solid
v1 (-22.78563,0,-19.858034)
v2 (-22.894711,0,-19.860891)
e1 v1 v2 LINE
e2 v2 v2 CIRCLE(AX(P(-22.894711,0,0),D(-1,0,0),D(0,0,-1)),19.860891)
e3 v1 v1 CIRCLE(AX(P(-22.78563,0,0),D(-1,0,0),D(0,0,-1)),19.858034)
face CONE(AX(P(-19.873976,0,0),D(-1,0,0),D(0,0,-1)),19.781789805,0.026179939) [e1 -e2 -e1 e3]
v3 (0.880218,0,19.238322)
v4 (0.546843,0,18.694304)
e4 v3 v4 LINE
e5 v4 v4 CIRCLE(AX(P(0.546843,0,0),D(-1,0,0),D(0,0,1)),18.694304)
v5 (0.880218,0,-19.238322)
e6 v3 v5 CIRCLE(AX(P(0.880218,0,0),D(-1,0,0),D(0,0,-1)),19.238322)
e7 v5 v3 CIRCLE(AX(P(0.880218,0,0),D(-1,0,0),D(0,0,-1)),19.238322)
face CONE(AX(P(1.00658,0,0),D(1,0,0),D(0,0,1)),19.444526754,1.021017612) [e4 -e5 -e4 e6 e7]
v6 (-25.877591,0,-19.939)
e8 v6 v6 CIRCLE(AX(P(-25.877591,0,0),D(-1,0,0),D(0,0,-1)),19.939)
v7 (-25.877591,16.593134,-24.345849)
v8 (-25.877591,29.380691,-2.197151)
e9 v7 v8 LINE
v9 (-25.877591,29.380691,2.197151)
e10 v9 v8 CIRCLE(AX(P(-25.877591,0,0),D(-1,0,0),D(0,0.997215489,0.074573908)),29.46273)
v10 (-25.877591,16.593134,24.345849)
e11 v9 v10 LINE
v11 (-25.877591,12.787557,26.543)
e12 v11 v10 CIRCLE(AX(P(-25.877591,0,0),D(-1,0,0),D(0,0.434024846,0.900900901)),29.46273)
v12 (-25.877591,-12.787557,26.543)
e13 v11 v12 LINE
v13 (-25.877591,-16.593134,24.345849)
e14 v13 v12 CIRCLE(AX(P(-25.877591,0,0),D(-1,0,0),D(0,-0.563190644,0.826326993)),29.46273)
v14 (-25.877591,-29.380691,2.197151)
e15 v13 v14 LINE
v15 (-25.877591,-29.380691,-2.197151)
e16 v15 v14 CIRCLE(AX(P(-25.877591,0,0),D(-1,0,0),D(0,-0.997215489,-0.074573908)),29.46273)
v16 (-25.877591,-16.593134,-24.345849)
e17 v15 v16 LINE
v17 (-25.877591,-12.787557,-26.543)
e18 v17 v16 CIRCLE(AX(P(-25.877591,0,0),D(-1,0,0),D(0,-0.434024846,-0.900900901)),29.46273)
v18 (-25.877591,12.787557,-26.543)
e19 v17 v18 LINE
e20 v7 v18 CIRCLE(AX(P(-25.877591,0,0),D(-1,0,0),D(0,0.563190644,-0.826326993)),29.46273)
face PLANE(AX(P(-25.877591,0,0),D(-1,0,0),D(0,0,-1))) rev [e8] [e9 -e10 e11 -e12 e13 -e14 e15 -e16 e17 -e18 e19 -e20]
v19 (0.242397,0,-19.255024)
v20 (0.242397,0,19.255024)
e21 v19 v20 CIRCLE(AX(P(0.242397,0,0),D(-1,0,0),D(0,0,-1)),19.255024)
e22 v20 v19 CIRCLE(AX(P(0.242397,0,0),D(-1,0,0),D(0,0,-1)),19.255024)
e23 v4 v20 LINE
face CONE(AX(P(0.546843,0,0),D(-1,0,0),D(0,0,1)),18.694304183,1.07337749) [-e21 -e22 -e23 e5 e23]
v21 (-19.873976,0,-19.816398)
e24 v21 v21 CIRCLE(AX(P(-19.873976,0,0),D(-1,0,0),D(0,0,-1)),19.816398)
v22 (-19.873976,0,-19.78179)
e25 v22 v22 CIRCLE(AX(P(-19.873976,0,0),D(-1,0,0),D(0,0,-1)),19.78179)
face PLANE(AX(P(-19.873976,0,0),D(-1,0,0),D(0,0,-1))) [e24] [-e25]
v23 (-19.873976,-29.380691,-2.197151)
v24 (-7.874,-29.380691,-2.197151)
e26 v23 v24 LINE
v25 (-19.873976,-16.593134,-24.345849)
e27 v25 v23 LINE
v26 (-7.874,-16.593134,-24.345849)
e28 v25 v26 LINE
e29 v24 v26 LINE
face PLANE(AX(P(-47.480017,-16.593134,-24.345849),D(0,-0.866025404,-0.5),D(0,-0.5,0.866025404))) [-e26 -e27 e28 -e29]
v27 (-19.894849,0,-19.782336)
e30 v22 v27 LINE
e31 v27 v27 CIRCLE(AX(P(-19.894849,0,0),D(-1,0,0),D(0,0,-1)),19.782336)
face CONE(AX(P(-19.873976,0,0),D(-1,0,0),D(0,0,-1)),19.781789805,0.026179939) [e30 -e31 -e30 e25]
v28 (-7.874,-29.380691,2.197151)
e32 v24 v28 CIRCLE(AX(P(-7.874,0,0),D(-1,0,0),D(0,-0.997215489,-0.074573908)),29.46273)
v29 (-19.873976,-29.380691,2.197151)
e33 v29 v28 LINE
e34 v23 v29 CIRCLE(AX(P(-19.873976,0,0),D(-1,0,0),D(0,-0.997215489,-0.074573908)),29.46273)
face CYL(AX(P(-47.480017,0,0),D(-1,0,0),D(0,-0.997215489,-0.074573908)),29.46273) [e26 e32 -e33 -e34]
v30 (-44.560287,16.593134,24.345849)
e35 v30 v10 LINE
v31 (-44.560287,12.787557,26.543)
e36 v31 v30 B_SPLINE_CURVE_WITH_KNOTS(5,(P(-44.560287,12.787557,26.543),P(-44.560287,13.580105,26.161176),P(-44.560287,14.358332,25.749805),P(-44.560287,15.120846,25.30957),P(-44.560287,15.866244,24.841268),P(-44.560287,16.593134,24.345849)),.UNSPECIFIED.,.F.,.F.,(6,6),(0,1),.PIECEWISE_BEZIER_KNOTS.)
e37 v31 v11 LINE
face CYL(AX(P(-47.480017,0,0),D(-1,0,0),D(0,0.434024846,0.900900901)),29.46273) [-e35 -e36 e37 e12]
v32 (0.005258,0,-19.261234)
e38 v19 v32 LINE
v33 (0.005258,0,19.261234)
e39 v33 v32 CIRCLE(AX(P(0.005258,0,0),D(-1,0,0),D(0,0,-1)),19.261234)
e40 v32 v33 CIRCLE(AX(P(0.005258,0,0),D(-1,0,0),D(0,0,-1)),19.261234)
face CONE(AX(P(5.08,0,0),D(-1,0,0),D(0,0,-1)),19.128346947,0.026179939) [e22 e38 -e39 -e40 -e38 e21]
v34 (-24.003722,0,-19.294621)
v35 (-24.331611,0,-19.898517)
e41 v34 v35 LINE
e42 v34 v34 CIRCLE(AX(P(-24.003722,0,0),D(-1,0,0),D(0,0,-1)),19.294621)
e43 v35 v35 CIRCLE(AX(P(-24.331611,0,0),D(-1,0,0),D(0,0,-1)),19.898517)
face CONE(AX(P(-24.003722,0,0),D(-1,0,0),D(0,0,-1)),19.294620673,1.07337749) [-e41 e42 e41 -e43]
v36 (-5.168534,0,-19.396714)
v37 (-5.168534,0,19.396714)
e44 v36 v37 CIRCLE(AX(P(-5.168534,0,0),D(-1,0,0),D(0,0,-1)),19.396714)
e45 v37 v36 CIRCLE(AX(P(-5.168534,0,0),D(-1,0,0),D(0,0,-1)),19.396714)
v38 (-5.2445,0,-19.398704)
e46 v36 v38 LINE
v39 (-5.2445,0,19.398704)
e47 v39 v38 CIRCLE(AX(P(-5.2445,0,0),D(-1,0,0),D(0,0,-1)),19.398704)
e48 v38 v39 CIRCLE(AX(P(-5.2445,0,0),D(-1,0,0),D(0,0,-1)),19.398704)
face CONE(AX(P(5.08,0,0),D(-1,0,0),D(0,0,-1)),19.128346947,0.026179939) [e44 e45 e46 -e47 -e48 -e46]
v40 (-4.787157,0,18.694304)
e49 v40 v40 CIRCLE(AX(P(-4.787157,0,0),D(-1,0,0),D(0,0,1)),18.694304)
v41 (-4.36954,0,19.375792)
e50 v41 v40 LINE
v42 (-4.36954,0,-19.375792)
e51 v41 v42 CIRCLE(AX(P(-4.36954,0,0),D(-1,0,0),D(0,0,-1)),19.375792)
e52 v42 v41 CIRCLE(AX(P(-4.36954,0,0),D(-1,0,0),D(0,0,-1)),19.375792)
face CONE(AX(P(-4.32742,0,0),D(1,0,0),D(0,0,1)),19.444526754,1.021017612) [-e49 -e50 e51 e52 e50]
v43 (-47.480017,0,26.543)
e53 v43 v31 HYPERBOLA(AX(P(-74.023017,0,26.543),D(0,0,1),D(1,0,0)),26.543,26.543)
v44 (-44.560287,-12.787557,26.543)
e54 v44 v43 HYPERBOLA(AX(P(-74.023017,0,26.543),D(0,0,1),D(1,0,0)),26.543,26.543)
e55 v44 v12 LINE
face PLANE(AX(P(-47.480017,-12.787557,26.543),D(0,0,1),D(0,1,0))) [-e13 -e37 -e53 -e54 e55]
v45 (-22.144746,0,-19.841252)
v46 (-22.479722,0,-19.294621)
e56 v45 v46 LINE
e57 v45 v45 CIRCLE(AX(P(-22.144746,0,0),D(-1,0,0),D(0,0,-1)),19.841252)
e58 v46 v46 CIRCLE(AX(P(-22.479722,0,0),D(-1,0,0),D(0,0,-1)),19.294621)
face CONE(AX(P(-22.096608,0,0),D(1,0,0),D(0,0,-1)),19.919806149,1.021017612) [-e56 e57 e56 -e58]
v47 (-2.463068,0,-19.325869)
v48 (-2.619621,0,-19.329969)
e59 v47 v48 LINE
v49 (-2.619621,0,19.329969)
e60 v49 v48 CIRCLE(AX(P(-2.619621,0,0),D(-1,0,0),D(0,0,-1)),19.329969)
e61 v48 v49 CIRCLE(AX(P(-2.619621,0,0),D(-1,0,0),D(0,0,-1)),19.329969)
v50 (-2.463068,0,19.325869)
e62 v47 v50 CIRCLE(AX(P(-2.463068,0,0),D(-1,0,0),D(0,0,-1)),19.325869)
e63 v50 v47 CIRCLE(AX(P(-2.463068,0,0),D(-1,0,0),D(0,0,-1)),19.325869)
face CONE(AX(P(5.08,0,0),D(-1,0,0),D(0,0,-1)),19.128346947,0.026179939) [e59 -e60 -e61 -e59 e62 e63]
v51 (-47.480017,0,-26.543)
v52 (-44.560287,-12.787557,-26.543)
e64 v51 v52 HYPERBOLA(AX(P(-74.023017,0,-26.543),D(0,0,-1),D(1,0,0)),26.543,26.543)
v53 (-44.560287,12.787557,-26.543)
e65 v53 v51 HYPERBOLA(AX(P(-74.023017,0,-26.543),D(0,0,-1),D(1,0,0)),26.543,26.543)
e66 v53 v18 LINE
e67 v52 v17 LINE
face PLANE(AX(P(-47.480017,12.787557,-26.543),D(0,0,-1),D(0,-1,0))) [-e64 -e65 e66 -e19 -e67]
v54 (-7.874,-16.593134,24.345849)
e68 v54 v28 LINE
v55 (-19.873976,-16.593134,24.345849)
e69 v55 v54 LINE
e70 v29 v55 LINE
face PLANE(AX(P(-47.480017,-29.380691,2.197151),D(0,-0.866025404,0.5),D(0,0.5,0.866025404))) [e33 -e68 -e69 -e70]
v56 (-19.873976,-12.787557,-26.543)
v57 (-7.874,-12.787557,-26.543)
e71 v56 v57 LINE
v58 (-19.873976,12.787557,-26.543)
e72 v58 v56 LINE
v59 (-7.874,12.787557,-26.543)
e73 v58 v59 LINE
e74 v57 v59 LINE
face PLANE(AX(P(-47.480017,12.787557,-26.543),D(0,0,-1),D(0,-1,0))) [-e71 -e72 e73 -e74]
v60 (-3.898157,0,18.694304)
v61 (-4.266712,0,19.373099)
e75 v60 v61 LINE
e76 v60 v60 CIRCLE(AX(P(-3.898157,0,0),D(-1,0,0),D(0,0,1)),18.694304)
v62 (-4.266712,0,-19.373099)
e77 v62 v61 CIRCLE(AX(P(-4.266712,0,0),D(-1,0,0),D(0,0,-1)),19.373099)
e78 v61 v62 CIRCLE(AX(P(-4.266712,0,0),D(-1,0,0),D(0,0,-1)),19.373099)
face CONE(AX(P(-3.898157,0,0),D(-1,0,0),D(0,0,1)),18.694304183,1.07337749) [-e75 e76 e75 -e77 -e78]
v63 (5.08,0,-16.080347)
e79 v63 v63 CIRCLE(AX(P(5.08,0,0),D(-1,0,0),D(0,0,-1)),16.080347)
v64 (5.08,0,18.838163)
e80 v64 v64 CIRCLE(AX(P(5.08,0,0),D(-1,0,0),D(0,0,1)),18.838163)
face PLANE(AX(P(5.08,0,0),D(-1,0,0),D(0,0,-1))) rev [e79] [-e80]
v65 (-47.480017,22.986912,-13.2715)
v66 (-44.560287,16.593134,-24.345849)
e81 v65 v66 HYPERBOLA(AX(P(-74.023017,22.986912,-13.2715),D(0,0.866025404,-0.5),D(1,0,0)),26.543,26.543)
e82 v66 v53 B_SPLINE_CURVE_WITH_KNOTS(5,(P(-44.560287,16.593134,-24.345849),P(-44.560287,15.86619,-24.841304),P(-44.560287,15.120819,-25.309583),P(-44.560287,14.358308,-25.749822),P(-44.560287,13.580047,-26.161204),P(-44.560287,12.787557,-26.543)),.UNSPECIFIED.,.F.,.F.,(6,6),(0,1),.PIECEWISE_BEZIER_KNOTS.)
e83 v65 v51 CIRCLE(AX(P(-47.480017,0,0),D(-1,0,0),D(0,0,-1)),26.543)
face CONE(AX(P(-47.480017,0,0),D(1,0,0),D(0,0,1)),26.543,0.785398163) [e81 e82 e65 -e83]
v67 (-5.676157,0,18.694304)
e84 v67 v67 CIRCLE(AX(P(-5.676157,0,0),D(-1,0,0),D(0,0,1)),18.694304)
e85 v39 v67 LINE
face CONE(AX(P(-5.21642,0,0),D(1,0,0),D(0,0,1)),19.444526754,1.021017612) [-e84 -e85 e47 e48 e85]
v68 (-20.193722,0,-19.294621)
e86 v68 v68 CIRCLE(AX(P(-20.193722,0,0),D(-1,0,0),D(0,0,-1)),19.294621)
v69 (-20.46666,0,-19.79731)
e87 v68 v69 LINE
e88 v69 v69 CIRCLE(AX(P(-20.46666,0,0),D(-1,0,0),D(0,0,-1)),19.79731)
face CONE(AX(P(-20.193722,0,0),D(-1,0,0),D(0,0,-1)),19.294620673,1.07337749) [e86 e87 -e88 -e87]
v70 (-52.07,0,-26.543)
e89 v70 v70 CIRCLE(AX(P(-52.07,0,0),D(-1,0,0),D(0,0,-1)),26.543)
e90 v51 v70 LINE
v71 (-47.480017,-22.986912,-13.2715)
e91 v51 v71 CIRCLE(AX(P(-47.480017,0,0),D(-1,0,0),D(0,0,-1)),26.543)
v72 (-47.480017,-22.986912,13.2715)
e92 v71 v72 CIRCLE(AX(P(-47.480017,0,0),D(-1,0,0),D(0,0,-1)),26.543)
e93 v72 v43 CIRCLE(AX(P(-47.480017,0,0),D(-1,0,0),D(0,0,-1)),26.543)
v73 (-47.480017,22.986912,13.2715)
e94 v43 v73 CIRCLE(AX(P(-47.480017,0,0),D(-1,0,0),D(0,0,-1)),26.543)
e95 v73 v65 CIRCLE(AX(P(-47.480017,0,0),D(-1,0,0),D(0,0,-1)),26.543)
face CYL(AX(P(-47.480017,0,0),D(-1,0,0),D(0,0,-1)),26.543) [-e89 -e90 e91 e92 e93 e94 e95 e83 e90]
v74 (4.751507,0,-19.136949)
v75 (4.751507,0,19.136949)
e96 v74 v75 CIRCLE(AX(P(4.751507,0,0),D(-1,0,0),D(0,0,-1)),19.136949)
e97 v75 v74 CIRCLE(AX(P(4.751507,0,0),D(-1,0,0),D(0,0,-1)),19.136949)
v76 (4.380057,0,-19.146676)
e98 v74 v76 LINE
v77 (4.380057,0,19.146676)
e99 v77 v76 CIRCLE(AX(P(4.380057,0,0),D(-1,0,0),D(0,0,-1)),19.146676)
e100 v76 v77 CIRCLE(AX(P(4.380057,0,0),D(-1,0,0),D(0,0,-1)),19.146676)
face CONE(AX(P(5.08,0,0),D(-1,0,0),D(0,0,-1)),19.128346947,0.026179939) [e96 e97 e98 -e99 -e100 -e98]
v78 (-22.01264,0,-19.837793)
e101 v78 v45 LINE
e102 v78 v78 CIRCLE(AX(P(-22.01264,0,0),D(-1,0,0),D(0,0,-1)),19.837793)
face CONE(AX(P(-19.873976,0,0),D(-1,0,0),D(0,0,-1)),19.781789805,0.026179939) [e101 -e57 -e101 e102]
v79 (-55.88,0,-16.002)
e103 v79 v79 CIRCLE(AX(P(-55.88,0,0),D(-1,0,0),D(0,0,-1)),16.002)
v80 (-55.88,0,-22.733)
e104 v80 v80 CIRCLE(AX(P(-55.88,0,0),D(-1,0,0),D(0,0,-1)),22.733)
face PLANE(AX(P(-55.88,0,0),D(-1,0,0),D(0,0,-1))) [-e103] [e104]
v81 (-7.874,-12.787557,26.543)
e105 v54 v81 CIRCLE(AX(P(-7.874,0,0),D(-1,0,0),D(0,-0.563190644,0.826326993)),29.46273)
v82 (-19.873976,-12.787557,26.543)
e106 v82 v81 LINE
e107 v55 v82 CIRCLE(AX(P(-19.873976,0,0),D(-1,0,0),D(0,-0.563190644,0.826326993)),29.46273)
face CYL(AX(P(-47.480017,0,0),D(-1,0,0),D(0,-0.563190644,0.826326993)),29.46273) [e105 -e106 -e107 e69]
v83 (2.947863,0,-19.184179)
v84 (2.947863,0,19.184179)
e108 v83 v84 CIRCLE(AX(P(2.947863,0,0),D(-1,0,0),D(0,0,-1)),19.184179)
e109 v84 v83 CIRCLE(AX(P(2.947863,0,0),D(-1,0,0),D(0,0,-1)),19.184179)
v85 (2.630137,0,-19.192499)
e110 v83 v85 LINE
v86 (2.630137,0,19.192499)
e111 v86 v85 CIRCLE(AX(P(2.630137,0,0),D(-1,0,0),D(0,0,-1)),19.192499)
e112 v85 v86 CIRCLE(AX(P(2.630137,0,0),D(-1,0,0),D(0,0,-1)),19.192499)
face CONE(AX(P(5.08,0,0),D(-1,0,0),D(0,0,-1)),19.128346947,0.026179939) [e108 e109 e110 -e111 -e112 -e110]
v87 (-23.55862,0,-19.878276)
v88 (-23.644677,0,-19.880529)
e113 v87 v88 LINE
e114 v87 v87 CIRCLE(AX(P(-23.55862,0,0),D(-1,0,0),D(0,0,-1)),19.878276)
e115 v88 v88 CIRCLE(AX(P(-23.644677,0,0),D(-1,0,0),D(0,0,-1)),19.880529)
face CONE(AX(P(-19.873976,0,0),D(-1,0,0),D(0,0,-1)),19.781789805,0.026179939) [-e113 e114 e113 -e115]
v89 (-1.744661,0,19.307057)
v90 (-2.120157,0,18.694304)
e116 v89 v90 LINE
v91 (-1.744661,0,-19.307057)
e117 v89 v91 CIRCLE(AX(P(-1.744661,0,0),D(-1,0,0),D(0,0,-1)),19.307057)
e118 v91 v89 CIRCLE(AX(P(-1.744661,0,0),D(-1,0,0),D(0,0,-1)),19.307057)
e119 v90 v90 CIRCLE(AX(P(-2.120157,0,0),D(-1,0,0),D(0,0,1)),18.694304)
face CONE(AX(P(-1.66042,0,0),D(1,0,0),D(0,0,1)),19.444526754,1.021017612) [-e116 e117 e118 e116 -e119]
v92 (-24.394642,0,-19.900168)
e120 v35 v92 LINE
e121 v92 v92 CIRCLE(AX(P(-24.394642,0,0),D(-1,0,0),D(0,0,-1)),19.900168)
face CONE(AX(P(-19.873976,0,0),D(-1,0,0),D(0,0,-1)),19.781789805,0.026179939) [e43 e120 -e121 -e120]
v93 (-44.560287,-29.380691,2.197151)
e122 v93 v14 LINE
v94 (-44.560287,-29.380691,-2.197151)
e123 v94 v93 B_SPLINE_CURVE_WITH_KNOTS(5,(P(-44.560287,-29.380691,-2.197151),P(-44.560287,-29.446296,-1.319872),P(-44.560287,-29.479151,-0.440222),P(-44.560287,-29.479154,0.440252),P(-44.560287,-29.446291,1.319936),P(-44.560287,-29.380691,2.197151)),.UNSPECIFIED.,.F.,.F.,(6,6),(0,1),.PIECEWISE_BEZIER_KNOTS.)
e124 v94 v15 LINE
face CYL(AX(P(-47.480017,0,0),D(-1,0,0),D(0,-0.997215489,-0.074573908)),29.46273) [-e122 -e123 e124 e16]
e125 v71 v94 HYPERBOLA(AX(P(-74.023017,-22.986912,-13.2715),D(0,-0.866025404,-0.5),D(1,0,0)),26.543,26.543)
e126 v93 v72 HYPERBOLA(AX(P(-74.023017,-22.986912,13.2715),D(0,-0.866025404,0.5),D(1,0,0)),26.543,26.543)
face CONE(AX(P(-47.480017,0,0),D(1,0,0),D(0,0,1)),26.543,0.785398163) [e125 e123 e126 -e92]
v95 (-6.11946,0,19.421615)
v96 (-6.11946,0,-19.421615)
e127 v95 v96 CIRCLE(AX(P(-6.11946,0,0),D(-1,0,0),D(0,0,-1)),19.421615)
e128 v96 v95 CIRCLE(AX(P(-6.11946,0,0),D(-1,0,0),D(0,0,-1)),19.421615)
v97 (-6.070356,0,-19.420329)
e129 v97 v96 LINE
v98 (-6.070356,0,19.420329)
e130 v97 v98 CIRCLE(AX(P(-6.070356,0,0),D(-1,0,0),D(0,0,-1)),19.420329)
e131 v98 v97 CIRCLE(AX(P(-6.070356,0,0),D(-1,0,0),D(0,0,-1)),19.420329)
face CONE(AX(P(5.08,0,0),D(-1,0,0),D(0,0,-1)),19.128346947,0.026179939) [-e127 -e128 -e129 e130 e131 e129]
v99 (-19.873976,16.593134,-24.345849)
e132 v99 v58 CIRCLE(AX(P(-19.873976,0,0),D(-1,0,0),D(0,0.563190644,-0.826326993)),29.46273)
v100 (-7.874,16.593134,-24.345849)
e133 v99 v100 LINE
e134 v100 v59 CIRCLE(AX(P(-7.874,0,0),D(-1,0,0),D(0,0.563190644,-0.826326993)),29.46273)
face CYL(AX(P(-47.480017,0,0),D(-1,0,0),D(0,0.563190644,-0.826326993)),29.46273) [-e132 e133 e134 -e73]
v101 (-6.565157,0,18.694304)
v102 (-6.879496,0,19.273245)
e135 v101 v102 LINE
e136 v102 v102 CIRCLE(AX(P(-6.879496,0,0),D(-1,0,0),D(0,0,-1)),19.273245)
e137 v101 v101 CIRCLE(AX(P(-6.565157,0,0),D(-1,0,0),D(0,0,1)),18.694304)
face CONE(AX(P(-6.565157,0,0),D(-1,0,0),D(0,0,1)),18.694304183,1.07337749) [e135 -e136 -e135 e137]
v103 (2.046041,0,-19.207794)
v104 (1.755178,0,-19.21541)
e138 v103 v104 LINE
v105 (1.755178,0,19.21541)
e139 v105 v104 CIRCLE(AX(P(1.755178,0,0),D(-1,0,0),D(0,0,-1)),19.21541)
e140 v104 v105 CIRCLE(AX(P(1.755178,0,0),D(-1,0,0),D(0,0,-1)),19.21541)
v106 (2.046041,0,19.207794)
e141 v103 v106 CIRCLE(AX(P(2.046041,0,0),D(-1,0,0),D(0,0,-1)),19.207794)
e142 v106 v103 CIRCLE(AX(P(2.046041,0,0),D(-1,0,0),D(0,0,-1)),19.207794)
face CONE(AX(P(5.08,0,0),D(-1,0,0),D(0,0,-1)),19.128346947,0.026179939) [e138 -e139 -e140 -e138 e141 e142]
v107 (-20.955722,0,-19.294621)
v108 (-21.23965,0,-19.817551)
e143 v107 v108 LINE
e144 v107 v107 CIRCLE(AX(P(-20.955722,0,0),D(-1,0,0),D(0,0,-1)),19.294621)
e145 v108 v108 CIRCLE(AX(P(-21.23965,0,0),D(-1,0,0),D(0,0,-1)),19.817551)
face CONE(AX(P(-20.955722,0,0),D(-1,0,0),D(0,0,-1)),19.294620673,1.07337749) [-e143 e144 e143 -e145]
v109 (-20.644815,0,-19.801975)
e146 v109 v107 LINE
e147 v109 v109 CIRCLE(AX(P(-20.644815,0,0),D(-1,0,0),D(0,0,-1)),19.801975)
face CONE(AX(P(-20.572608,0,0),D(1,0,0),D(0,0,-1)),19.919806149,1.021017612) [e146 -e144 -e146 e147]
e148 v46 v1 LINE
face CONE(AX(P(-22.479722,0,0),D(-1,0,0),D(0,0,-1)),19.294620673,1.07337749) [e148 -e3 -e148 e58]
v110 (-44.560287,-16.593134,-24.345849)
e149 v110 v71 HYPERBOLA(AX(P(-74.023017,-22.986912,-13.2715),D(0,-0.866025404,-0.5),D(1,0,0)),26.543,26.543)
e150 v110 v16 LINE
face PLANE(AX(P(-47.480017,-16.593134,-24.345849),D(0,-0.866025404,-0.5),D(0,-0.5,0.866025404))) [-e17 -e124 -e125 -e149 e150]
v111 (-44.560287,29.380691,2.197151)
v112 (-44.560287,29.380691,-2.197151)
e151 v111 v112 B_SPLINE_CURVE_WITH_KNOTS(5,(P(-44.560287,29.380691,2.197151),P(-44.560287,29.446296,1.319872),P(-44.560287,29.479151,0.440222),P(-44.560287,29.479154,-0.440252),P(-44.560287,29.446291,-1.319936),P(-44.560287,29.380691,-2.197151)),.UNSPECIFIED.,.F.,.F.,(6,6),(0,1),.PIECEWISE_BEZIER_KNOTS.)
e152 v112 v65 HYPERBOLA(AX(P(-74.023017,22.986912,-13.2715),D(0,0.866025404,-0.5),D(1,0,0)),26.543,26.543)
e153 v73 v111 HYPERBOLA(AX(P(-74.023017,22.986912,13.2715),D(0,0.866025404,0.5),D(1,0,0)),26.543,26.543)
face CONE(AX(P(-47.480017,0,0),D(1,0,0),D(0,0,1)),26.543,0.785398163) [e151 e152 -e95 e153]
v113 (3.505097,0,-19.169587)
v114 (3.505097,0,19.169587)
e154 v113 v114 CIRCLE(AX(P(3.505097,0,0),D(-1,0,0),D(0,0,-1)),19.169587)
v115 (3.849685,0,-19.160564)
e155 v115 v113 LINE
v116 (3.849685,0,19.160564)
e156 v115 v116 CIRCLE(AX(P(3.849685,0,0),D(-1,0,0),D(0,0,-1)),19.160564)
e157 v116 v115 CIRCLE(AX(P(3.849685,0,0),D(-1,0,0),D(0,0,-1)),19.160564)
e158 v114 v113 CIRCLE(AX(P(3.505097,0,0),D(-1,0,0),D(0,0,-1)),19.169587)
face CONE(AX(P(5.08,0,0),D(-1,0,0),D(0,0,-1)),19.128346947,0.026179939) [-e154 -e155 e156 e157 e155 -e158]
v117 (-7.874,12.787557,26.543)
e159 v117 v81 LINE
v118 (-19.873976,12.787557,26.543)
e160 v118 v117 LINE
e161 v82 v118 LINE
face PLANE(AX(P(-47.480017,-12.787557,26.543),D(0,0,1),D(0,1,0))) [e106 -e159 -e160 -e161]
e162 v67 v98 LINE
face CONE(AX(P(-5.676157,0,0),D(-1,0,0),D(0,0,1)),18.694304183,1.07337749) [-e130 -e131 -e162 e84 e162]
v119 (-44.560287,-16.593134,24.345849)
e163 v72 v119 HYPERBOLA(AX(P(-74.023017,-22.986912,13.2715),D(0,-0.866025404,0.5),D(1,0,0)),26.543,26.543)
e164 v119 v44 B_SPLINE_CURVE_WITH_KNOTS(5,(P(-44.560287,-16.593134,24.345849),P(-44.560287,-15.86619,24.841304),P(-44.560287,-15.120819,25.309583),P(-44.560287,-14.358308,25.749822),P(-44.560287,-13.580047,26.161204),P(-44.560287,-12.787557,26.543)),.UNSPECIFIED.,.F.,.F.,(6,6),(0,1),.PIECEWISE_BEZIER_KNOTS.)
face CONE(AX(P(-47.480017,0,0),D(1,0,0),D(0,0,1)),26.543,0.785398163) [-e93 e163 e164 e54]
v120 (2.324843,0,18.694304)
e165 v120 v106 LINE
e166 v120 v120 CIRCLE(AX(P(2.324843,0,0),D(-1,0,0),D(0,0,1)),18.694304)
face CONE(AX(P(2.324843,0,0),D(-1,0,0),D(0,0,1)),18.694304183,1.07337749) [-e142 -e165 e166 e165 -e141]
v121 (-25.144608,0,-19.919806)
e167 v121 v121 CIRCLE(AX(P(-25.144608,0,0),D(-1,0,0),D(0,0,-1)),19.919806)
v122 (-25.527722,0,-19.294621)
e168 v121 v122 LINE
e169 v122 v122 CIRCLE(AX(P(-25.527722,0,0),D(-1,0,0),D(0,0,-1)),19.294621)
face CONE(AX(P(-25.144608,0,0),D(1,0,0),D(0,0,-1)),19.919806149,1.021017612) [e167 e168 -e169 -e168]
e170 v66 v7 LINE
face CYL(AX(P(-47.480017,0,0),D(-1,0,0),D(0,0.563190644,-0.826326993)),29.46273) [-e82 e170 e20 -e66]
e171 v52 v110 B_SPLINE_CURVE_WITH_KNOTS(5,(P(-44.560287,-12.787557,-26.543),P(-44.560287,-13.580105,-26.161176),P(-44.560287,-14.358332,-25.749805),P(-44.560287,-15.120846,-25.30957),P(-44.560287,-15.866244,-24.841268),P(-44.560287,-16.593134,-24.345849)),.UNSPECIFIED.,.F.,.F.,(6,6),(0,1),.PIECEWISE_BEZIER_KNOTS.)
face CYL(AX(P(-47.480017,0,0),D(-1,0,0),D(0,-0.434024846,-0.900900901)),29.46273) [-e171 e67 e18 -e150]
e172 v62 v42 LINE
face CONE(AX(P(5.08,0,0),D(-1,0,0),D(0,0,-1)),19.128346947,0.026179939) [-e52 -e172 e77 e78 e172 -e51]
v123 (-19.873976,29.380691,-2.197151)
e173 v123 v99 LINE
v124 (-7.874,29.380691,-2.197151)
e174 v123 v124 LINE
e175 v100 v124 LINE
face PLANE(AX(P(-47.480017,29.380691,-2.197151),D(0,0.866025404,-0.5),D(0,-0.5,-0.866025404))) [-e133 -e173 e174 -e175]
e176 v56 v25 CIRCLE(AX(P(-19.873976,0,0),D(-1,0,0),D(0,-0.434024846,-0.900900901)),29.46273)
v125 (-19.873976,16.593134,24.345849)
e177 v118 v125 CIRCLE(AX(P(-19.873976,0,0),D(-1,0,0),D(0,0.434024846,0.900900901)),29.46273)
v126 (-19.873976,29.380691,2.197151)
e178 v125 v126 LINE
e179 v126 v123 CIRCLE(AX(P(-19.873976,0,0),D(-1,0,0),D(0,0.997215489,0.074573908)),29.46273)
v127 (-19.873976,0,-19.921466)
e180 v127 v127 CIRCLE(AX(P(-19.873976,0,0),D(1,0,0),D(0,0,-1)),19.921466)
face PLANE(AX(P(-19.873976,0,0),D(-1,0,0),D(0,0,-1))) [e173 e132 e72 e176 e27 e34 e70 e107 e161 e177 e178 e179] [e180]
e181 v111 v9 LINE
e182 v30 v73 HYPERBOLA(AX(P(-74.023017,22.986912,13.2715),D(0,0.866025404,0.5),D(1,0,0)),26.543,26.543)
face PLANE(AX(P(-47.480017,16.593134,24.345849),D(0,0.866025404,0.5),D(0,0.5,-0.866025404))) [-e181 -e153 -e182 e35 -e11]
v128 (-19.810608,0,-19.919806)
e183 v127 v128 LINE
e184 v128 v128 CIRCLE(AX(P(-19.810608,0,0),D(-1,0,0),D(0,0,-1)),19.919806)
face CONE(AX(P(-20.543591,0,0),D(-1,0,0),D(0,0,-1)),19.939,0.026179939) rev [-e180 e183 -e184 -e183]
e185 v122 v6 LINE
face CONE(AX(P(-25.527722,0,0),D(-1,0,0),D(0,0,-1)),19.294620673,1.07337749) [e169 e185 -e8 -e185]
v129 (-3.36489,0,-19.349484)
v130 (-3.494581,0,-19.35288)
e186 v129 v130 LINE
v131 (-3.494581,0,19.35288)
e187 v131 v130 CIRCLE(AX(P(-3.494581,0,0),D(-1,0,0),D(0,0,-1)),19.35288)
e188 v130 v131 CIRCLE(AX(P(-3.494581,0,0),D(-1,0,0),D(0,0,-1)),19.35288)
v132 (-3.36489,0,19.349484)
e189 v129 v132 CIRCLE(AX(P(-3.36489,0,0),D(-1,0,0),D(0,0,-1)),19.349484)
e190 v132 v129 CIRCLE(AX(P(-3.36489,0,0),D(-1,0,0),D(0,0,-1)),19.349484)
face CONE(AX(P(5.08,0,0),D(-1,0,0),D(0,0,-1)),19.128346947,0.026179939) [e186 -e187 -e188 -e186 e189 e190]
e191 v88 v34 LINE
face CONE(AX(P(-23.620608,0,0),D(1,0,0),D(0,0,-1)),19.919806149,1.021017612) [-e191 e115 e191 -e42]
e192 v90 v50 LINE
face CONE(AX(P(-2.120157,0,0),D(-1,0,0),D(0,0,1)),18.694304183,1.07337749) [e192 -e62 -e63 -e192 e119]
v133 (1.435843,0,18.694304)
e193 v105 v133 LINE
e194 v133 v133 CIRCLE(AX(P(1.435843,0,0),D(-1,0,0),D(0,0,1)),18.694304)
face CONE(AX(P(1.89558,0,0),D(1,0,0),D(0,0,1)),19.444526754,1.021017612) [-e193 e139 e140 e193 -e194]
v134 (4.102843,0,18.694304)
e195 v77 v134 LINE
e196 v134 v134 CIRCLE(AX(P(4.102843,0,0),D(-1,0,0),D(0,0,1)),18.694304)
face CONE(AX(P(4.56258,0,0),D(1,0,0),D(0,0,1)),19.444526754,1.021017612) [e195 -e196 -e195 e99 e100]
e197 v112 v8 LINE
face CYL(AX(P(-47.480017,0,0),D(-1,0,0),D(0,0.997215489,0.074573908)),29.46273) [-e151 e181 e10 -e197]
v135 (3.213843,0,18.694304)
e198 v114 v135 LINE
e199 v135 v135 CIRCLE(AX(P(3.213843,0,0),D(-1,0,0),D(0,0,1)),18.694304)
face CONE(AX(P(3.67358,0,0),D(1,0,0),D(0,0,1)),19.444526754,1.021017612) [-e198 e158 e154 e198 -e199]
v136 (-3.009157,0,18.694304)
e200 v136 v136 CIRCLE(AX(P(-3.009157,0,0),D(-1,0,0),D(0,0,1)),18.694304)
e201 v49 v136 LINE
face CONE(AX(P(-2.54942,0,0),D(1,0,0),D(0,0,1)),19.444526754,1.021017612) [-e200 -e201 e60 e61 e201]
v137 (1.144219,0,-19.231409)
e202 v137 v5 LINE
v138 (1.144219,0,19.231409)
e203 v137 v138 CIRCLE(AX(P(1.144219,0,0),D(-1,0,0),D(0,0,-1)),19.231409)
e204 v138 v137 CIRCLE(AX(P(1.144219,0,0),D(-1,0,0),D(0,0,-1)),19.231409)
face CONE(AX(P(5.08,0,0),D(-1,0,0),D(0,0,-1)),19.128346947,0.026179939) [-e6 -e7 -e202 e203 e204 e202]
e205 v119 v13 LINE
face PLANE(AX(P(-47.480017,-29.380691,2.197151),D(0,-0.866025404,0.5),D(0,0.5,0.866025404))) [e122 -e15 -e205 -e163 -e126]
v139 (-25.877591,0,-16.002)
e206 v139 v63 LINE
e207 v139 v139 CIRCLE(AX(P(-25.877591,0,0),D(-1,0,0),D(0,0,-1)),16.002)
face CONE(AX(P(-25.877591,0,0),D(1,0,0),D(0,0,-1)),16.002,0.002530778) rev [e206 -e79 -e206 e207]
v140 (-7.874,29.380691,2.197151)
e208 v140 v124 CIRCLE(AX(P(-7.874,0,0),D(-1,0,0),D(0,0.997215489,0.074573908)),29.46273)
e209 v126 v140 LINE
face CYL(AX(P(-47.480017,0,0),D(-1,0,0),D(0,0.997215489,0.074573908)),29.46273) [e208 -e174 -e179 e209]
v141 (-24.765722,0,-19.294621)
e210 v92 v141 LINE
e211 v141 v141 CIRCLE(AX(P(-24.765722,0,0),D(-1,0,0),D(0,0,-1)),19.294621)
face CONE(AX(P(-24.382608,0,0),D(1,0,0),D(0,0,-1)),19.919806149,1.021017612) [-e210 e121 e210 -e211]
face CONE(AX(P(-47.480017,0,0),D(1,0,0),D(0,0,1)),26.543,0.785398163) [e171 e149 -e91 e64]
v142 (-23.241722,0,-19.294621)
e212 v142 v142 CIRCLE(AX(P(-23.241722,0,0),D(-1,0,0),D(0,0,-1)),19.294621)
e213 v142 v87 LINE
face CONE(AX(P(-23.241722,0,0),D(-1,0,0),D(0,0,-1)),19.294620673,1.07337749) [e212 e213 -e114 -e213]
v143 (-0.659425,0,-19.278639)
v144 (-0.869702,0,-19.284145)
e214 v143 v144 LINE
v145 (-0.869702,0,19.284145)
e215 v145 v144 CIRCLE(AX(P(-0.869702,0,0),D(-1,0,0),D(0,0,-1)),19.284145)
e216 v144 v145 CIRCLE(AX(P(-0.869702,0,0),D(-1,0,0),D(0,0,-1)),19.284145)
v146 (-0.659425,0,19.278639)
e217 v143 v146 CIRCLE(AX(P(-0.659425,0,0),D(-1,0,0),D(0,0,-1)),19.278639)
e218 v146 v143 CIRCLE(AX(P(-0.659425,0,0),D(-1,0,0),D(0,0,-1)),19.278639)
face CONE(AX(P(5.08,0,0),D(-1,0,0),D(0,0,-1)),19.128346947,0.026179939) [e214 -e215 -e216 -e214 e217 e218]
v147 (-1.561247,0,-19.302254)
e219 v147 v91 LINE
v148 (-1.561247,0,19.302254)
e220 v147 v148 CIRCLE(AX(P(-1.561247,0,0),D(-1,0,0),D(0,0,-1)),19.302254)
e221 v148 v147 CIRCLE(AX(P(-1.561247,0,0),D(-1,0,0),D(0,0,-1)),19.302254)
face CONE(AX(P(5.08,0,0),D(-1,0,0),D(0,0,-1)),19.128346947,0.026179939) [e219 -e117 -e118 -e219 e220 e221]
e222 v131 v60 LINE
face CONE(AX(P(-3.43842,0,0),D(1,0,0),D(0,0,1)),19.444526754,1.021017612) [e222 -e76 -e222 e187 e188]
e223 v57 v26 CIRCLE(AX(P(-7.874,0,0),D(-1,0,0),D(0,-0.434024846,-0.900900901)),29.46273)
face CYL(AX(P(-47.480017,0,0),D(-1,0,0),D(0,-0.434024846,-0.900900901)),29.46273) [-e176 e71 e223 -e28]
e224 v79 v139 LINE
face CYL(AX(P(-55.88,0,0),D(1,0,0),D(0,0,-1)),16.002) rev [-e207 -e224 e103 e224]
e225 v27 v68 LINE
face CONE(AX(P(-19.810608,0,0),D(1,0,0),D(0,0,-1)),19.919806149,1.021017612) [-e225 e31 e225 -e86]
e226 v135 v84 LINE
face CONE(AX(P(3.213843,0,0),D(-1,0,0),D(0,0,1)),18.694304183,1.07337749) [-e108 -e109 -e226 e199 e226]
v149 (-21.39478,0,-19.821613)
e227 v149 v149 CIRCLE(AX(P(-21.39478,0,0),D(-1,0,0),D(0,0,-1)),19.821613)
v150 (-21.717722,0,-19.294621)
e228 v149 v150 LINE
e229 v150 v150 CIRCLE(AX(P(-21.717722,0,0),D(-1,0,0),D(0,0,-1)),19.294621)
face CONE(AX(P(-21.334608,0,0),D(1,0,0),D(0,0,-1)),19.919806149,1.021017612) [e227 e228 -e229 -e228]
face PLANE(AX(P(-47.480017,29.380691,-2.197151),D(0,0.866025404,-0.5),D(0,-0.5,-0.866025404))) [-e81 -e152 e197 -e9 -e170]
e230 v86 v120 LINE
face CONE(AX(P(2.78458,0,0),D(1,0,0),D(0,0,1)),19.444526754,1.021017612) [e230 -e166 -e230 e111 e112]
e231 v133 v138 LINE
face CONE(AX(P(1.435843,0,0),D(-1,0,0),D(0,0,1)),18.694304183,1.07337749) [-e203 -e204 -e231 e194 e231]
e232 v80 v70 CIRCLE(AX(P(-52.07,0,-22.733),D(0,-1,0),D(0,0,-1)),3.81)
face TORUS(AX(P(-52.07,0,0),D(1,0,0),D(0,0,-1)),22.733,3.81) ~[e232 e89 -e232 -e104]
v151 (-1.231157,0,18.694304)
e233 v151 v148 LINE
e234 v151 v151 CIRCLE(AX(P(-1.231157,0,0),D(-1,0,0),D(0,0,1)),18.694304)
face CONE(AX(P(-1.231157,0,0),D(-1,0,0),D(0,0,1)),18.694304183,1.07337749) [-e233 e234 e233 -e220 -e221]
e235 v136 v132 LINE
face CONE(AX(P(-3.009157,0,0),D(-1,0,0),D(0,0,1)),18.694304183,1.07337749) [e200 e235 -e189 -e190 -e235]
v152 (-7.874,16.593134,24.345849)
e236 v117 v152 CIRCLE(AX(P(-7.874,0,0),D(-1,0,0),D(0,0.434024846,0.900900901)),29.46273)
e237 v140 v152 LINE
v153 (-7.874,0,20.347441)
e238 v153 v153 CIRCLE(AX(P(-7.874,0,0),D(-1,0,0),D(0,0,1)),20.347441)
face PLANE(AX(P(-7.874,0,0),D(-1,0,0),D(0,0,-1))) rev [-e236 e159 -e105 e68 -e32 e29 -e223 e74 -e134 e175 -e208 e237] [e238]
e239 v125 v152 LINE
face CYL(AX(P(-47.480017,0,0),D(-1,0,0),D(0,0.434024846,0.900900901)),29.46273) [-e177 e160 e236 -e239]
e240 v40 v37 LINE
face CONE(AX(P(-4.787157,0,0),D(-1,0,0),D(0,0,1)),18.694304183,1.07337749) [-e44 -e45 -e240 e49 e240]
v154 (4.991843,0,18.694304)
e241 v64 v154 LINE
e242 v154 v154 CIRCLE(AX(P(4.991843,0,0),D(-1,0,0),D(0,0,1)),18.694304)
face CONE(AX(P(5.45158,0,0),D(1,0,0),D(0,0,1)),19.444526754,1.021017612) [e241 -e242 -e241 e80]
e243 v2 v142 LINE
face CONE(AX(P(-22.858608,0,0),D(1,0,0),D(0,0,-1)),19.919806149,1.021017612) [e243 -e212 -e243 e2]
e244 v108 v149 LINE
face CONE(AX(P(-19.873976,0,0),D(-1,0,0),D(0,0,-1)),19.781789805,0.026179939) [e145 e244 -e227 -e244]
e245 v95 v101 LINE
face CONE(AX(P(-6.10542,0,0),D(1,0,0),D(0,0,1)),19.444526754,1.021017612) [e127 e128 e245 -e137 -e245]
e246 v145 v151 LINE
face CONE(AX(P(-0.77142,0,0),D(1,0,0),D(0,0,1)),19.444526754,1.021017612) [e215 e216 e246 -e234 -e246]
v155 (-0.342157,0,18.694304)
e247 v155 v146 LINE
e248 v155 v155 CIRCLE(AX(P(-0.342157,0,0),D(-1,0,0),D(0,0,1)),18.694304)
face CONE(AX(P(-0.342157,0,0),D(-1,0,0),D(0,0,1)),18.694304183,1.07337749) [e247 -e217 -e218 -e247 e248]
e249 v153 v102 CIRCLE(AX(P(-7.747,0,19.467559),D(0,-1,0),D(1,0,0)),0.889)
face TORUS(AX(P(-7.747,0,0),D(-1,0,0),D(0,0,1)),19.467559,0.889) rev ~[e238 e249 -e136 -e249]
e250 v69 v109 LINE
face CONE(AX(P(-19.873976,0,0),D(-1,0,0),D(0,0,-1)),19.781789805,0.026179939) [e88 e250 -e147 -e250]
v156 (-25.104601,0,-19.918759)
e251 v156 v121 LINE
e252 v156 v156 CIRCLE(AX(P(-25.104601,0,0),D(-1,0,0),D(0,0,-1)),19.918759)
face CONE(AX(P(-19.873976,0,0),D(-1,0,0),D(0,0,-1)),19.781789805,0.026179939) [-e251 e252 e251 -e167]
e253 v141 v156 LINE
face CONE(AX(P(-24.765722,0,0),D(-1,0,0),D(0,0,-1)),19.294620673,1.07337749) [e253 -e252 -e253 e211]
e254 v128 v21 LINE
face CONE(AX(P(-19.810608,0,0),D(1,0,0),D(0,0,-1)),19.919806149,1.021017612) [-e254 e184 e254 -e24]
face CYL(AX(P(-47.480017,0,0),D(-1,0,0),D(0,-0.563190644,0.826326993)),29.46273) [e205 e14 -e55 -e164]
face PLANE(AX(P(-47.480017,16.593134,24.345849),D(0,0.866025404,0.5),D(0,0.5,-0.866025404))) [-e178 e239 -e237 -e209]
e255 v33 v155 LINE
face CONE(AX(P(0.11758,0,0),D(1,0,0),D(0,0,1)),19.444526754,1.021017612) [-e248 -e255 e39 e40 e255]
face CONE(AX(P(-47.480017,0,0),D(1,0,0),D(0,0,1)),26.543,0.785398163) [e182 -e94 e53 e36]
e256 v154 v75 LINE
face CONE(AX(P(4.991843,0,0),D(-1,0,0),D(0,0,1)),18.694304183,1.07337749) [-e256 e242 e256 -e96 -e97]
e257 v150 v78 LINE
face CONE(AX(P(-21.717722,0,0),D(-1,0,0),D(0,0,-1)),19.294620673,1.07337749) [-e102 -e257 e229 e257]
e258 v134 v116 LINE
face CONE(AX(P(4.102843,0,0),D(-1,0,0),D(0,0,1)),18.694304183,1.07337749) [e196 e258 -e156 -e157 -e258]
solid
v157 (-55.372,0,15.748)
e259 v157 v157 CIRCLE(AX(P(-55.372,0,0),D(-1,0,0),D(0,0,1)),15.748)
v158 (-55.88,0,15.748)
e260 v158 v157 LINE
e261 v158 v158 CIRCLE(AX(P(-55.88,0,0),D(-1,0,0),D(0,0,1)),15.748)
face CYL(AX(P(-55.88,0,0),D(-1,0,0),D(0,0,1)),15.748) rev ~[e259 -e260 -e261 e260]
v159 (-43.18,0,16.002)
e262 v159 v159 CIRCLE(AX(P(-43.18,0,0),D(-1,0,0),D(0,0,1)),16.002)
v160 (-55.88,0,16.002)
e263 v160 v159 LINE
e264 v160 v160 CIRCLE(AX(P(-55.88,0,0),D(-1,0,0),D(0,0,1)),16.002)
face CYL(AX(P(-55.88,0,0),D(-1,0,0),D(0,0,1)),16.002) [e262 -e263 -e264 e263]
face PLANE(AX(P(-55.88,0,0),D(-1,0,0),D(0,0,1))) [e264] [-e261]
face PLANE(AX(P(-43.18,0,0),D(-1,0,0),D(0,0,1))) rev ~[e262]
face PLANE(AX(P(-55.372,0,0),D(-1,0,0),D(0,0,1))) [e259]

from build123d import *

# Parameters (mm, degrees)
SKETCH12_OUTSIDE_W = 140.582
SKETCH12_OUTSIDE_H = 140.582
CUT_EXTRUDE2_DEPTH = 53.5600168
FILLET4_R          = 3.81
SKETCH19_OUTSIDE_W = 83.088
SKETCH19_OUTSIDE_H = 88.928
SKETCH19_OUTSIDE_R = 26.543
CUT_EXTRUDE3_DEPTH = 3.99796
CUT_EXTRUDE3_DRAFT = -45
CHAMFER1_SIZE      = 0.260919487
CHAMFER1_SIZE2     = 0.254
SKETCH21_R         = 16.002
PLUG_DEPTH         = 12.7
SKETCH22_R         = 15.748
CUT_EXTRUDE4_DEPTH = 0.508
LPATTERN1_COUNT    = 8
LPATTERN1_PITCH    = 0.762
LPATTERN2_COUNT    = 15
LPATTERN2_PITCH    = 0.889
SKETCH32_R         = 0.889


with BuildPart() as part:
    # Sketch10 → Revolve2 (revolve)
    with BuildSketch(Plane.XY, mode=Mode.PRIVATE) as revolve2_sk:
        Polygon((-55.88, 16.002), (-25.87759112, 16.002), (5.08, 16.080346947), (5.08, 19.128346947), (-7.874, 19.467559375), (-7.874, 53.086), (-19.873976, 53.086), (-19.873976, 19.781789805), (-25.87759112, 19.939), (-25.87759112, 53.086), (-47.4800168, 53.086), (-47.4800168, 26.543), (-55.88, 26.543), align=None)
    revolve(revolve2_sk.sketch.rotate(Axis((0, 0, 0), (-1, 0, 0)), 90), axis=Axis((0, 0, 0), (-1, 0, 0)))  # turned: the seam where the file's is

    # Sketch12 outside → Cut-Extrude2 (cut, through all)
    with BuildSketch(Plane.ZY.offset(47.4800168)):
        Rectangle(SKETCH12_OUTSIDE_W, SKETCH12_OUTSIDE_H)
        with BuildLine():
            Line((-2.19715092, 29.380690715), (-24.34584908, 16.59313387))
            ThreePointArc((-24.34584908, 16.59313387), (-25.515472645, 14.731365), (-26.543, 12.787556845))
            Line((-26.543, 12.787556845), (-26.543, -12.787556845))
            ThreePointArc((-26.543, -12.787556845), (-25.515472645, -14.731365), (-24.34584908, -16.59313387))
            Line((-24.34584908, -16.59313387), (-2.19715092, -29.380690715))
            ThreePointArc((-2.19715092, -29.380690715), (0, -29.46273), (2.19715092, -29.380690715))
            Line((2.19715092, -29.380690715), (24.34584908, -16.59313387))
            ThreePointArc((24.34584908, -16.59313387), (25.515472645, -14.731365), (26.543, -12.787556845))
            Line((26.543, -12.787556845), (26.543, 12.787556845))
            ThreePointArc((26.543, 12.787556845), (25.515472645, 14.731365), (24.34584908, 16.59313387))
            Line((24.34584908, 16.59313387), (2.19715092, 29.380690715))
            ThreePointArc((2.19715092, 29.380690715), (0, 29.46273), (-2.19715092, 29.380690715))
        make_face(mode=Mode.SUBTRACT)
    extrude(amount=-CUT_EXTRUDE2_DEPTH, mode=Mode.SUBTRACT)

    # Fillet4
    fillet4_edges = [part.edges().sort_by_distance(p)[0] for p in [
        (-55.88, 0, 26.543),
    ]]
    fillet(fillet4_edges, radius=FILLET4_R)


with BuildPart() as cut_extrude3_tool:
    # Sketch19 outside → Cut-Extrude3 (with draft: the straight prism first)
    with BuildSketch(Plane.ZY.offset(47.4800168)):
        Rectangle(SKETCH19_OUTSIDE_W, SKETCH19_OUTSIDE_H)
        Circle(SKETCH19_OUTSIDE_R, mode=Mode.SUBTRACT)
    extrude(amount=-CUT_EXTRUDE3_DEPTH)
    # Cut-Extrude3: the draft: its side faces are tilted about the plane it starts from
    cut_extrude3_sides = [cut_extrude3_tool.faces().sort_by_distance(p)[0] for p in [
        (-45.4810368, -44.464, 0),
        (-45.4810368, 0, 41.544),
        (-45.4810368, 44.464, 0),
        (-45.4810368, 0, -41.544),
        (-45.4810368, 0, -26.543),
    ]]
    draft(cut_extrude3_sides, Plane.ZY.offset(47.4800168), CUT_EXTRUDE3_DRAFT)


with BuildPart() as part_1:
    add(part.part)

    # Cut-Extrude3: cut by cut_extrude3_tool
    add(cut_extrude3_tool.part, mode=Mode.SUBTRACT)

    # Chamfer1
    chamfer1_edges = [part_1.edges().sort_by_distance(p)[0] for p in [
        (5.08, 0, 19.128346947),
    ]]
    chamfer1_side = [part_1.faces().sort_by_distance(p)[0] for p in [
        (5.08, 0, 16.621378301),
    ]]
    chamfer(chamfer1_edges, length=CHAMFER1_SIZE, length2=CHAMFER1_SIZE2, reference=chamfer1_side[0])

    # Sketch29 → Cut-Revolve1 (revolve, cut)
    with BuildSketch(Plane.XY, mode=Mode.PRIVATE) as cut_revolve1_sk:
        Polygon((-25.87759112, 19.939), (-25.144607539, 19.919806149), (-25.527721692, 19.294620673), align=None)
    cut_revolve1 = revolve(cut_revolve1_sk.sketch.rotate(Axis((0, 0, 0), (-1, 0, 0)), 90), axis=Axis((0, 0, 0), (-1, 0, 0)), mode=Mode.SUBTRACT)  # turned: the seam where the file's is

    # LPattern1: Cut-Revolve1 ×8
    with Locations(*[(i * LPATTERN1_PITCH, 0, 0) for i in range(1, LPATTERN1_COUNT)]):
        add(cut_revolve1, mode=Mode.SUBTRACT)

    # Sketch30 → Cut-Revolve2 (revolve, cut)
    with BuildSketch(Plane.XY, mode=Mode.PRIVATE) as cut_revolve2_sk:
        Polygon((-7.874, 19.467559375), (-6.994419703, 19.444526754), (-7.454156686, 18.694304183), align=None)
    cut_revolve2 = revolve(cut_revolve2_sk.sketch.rotate(Axis((0, 0, 0), (-1, 0, 0)), 270), axis=Axis((0, 0, 0), (-1, 0, 0)), mode=Mode.SUBTRACT)  # turned: the seam where the file's is

    # LPattern2: Cut-Revolve2 ×15
    with Locations(*[(i * LPATTERN2_PITCH, 0, 0) for i in range(1, LPATTERN2_COUNT)]):
        add(cut_revolve2, mode=Mode.SUBTRACT)

    # Sketch32 → Cut-Revolve3 (revolve, cut)
    with BuildSketch(Plane.XY, mode=Mode.PRIVATE) as cut_revolve3_sk:
        with Locations((-7.747, 19.467559375)):
            Circle(SKETCH32_R)
    revolve(cut_revolve3_sk.sketch.rotate(Axis((0, 0, 0), (-1, 0, 0)), 270), axis=Axis((0, 0, 0), (-1, 0, 0)), mode=Mode.SUBTRACT)  # turned: the seam where the file's is


with BuildPart() as body_2:
    # Sketch21 → plug (new body)
    with BuildSketch(Plane.ZY.offset(55.88)):
        Circle(SKETCH21_R)
    extrude(amount=-PLUG_DEPTH)

    # Sketch22 → Cut-Extrude4 (cut)
    with BuildSketch(Plane.ZY.offset(55.88)):
        Circle(SKETCH22_R)
    extrude(amount=-CUT_EXTRUDE4_DEPTH, mode=Mode.SUBTRACT)


solid = Compound([part_1.part, body_2.part])
